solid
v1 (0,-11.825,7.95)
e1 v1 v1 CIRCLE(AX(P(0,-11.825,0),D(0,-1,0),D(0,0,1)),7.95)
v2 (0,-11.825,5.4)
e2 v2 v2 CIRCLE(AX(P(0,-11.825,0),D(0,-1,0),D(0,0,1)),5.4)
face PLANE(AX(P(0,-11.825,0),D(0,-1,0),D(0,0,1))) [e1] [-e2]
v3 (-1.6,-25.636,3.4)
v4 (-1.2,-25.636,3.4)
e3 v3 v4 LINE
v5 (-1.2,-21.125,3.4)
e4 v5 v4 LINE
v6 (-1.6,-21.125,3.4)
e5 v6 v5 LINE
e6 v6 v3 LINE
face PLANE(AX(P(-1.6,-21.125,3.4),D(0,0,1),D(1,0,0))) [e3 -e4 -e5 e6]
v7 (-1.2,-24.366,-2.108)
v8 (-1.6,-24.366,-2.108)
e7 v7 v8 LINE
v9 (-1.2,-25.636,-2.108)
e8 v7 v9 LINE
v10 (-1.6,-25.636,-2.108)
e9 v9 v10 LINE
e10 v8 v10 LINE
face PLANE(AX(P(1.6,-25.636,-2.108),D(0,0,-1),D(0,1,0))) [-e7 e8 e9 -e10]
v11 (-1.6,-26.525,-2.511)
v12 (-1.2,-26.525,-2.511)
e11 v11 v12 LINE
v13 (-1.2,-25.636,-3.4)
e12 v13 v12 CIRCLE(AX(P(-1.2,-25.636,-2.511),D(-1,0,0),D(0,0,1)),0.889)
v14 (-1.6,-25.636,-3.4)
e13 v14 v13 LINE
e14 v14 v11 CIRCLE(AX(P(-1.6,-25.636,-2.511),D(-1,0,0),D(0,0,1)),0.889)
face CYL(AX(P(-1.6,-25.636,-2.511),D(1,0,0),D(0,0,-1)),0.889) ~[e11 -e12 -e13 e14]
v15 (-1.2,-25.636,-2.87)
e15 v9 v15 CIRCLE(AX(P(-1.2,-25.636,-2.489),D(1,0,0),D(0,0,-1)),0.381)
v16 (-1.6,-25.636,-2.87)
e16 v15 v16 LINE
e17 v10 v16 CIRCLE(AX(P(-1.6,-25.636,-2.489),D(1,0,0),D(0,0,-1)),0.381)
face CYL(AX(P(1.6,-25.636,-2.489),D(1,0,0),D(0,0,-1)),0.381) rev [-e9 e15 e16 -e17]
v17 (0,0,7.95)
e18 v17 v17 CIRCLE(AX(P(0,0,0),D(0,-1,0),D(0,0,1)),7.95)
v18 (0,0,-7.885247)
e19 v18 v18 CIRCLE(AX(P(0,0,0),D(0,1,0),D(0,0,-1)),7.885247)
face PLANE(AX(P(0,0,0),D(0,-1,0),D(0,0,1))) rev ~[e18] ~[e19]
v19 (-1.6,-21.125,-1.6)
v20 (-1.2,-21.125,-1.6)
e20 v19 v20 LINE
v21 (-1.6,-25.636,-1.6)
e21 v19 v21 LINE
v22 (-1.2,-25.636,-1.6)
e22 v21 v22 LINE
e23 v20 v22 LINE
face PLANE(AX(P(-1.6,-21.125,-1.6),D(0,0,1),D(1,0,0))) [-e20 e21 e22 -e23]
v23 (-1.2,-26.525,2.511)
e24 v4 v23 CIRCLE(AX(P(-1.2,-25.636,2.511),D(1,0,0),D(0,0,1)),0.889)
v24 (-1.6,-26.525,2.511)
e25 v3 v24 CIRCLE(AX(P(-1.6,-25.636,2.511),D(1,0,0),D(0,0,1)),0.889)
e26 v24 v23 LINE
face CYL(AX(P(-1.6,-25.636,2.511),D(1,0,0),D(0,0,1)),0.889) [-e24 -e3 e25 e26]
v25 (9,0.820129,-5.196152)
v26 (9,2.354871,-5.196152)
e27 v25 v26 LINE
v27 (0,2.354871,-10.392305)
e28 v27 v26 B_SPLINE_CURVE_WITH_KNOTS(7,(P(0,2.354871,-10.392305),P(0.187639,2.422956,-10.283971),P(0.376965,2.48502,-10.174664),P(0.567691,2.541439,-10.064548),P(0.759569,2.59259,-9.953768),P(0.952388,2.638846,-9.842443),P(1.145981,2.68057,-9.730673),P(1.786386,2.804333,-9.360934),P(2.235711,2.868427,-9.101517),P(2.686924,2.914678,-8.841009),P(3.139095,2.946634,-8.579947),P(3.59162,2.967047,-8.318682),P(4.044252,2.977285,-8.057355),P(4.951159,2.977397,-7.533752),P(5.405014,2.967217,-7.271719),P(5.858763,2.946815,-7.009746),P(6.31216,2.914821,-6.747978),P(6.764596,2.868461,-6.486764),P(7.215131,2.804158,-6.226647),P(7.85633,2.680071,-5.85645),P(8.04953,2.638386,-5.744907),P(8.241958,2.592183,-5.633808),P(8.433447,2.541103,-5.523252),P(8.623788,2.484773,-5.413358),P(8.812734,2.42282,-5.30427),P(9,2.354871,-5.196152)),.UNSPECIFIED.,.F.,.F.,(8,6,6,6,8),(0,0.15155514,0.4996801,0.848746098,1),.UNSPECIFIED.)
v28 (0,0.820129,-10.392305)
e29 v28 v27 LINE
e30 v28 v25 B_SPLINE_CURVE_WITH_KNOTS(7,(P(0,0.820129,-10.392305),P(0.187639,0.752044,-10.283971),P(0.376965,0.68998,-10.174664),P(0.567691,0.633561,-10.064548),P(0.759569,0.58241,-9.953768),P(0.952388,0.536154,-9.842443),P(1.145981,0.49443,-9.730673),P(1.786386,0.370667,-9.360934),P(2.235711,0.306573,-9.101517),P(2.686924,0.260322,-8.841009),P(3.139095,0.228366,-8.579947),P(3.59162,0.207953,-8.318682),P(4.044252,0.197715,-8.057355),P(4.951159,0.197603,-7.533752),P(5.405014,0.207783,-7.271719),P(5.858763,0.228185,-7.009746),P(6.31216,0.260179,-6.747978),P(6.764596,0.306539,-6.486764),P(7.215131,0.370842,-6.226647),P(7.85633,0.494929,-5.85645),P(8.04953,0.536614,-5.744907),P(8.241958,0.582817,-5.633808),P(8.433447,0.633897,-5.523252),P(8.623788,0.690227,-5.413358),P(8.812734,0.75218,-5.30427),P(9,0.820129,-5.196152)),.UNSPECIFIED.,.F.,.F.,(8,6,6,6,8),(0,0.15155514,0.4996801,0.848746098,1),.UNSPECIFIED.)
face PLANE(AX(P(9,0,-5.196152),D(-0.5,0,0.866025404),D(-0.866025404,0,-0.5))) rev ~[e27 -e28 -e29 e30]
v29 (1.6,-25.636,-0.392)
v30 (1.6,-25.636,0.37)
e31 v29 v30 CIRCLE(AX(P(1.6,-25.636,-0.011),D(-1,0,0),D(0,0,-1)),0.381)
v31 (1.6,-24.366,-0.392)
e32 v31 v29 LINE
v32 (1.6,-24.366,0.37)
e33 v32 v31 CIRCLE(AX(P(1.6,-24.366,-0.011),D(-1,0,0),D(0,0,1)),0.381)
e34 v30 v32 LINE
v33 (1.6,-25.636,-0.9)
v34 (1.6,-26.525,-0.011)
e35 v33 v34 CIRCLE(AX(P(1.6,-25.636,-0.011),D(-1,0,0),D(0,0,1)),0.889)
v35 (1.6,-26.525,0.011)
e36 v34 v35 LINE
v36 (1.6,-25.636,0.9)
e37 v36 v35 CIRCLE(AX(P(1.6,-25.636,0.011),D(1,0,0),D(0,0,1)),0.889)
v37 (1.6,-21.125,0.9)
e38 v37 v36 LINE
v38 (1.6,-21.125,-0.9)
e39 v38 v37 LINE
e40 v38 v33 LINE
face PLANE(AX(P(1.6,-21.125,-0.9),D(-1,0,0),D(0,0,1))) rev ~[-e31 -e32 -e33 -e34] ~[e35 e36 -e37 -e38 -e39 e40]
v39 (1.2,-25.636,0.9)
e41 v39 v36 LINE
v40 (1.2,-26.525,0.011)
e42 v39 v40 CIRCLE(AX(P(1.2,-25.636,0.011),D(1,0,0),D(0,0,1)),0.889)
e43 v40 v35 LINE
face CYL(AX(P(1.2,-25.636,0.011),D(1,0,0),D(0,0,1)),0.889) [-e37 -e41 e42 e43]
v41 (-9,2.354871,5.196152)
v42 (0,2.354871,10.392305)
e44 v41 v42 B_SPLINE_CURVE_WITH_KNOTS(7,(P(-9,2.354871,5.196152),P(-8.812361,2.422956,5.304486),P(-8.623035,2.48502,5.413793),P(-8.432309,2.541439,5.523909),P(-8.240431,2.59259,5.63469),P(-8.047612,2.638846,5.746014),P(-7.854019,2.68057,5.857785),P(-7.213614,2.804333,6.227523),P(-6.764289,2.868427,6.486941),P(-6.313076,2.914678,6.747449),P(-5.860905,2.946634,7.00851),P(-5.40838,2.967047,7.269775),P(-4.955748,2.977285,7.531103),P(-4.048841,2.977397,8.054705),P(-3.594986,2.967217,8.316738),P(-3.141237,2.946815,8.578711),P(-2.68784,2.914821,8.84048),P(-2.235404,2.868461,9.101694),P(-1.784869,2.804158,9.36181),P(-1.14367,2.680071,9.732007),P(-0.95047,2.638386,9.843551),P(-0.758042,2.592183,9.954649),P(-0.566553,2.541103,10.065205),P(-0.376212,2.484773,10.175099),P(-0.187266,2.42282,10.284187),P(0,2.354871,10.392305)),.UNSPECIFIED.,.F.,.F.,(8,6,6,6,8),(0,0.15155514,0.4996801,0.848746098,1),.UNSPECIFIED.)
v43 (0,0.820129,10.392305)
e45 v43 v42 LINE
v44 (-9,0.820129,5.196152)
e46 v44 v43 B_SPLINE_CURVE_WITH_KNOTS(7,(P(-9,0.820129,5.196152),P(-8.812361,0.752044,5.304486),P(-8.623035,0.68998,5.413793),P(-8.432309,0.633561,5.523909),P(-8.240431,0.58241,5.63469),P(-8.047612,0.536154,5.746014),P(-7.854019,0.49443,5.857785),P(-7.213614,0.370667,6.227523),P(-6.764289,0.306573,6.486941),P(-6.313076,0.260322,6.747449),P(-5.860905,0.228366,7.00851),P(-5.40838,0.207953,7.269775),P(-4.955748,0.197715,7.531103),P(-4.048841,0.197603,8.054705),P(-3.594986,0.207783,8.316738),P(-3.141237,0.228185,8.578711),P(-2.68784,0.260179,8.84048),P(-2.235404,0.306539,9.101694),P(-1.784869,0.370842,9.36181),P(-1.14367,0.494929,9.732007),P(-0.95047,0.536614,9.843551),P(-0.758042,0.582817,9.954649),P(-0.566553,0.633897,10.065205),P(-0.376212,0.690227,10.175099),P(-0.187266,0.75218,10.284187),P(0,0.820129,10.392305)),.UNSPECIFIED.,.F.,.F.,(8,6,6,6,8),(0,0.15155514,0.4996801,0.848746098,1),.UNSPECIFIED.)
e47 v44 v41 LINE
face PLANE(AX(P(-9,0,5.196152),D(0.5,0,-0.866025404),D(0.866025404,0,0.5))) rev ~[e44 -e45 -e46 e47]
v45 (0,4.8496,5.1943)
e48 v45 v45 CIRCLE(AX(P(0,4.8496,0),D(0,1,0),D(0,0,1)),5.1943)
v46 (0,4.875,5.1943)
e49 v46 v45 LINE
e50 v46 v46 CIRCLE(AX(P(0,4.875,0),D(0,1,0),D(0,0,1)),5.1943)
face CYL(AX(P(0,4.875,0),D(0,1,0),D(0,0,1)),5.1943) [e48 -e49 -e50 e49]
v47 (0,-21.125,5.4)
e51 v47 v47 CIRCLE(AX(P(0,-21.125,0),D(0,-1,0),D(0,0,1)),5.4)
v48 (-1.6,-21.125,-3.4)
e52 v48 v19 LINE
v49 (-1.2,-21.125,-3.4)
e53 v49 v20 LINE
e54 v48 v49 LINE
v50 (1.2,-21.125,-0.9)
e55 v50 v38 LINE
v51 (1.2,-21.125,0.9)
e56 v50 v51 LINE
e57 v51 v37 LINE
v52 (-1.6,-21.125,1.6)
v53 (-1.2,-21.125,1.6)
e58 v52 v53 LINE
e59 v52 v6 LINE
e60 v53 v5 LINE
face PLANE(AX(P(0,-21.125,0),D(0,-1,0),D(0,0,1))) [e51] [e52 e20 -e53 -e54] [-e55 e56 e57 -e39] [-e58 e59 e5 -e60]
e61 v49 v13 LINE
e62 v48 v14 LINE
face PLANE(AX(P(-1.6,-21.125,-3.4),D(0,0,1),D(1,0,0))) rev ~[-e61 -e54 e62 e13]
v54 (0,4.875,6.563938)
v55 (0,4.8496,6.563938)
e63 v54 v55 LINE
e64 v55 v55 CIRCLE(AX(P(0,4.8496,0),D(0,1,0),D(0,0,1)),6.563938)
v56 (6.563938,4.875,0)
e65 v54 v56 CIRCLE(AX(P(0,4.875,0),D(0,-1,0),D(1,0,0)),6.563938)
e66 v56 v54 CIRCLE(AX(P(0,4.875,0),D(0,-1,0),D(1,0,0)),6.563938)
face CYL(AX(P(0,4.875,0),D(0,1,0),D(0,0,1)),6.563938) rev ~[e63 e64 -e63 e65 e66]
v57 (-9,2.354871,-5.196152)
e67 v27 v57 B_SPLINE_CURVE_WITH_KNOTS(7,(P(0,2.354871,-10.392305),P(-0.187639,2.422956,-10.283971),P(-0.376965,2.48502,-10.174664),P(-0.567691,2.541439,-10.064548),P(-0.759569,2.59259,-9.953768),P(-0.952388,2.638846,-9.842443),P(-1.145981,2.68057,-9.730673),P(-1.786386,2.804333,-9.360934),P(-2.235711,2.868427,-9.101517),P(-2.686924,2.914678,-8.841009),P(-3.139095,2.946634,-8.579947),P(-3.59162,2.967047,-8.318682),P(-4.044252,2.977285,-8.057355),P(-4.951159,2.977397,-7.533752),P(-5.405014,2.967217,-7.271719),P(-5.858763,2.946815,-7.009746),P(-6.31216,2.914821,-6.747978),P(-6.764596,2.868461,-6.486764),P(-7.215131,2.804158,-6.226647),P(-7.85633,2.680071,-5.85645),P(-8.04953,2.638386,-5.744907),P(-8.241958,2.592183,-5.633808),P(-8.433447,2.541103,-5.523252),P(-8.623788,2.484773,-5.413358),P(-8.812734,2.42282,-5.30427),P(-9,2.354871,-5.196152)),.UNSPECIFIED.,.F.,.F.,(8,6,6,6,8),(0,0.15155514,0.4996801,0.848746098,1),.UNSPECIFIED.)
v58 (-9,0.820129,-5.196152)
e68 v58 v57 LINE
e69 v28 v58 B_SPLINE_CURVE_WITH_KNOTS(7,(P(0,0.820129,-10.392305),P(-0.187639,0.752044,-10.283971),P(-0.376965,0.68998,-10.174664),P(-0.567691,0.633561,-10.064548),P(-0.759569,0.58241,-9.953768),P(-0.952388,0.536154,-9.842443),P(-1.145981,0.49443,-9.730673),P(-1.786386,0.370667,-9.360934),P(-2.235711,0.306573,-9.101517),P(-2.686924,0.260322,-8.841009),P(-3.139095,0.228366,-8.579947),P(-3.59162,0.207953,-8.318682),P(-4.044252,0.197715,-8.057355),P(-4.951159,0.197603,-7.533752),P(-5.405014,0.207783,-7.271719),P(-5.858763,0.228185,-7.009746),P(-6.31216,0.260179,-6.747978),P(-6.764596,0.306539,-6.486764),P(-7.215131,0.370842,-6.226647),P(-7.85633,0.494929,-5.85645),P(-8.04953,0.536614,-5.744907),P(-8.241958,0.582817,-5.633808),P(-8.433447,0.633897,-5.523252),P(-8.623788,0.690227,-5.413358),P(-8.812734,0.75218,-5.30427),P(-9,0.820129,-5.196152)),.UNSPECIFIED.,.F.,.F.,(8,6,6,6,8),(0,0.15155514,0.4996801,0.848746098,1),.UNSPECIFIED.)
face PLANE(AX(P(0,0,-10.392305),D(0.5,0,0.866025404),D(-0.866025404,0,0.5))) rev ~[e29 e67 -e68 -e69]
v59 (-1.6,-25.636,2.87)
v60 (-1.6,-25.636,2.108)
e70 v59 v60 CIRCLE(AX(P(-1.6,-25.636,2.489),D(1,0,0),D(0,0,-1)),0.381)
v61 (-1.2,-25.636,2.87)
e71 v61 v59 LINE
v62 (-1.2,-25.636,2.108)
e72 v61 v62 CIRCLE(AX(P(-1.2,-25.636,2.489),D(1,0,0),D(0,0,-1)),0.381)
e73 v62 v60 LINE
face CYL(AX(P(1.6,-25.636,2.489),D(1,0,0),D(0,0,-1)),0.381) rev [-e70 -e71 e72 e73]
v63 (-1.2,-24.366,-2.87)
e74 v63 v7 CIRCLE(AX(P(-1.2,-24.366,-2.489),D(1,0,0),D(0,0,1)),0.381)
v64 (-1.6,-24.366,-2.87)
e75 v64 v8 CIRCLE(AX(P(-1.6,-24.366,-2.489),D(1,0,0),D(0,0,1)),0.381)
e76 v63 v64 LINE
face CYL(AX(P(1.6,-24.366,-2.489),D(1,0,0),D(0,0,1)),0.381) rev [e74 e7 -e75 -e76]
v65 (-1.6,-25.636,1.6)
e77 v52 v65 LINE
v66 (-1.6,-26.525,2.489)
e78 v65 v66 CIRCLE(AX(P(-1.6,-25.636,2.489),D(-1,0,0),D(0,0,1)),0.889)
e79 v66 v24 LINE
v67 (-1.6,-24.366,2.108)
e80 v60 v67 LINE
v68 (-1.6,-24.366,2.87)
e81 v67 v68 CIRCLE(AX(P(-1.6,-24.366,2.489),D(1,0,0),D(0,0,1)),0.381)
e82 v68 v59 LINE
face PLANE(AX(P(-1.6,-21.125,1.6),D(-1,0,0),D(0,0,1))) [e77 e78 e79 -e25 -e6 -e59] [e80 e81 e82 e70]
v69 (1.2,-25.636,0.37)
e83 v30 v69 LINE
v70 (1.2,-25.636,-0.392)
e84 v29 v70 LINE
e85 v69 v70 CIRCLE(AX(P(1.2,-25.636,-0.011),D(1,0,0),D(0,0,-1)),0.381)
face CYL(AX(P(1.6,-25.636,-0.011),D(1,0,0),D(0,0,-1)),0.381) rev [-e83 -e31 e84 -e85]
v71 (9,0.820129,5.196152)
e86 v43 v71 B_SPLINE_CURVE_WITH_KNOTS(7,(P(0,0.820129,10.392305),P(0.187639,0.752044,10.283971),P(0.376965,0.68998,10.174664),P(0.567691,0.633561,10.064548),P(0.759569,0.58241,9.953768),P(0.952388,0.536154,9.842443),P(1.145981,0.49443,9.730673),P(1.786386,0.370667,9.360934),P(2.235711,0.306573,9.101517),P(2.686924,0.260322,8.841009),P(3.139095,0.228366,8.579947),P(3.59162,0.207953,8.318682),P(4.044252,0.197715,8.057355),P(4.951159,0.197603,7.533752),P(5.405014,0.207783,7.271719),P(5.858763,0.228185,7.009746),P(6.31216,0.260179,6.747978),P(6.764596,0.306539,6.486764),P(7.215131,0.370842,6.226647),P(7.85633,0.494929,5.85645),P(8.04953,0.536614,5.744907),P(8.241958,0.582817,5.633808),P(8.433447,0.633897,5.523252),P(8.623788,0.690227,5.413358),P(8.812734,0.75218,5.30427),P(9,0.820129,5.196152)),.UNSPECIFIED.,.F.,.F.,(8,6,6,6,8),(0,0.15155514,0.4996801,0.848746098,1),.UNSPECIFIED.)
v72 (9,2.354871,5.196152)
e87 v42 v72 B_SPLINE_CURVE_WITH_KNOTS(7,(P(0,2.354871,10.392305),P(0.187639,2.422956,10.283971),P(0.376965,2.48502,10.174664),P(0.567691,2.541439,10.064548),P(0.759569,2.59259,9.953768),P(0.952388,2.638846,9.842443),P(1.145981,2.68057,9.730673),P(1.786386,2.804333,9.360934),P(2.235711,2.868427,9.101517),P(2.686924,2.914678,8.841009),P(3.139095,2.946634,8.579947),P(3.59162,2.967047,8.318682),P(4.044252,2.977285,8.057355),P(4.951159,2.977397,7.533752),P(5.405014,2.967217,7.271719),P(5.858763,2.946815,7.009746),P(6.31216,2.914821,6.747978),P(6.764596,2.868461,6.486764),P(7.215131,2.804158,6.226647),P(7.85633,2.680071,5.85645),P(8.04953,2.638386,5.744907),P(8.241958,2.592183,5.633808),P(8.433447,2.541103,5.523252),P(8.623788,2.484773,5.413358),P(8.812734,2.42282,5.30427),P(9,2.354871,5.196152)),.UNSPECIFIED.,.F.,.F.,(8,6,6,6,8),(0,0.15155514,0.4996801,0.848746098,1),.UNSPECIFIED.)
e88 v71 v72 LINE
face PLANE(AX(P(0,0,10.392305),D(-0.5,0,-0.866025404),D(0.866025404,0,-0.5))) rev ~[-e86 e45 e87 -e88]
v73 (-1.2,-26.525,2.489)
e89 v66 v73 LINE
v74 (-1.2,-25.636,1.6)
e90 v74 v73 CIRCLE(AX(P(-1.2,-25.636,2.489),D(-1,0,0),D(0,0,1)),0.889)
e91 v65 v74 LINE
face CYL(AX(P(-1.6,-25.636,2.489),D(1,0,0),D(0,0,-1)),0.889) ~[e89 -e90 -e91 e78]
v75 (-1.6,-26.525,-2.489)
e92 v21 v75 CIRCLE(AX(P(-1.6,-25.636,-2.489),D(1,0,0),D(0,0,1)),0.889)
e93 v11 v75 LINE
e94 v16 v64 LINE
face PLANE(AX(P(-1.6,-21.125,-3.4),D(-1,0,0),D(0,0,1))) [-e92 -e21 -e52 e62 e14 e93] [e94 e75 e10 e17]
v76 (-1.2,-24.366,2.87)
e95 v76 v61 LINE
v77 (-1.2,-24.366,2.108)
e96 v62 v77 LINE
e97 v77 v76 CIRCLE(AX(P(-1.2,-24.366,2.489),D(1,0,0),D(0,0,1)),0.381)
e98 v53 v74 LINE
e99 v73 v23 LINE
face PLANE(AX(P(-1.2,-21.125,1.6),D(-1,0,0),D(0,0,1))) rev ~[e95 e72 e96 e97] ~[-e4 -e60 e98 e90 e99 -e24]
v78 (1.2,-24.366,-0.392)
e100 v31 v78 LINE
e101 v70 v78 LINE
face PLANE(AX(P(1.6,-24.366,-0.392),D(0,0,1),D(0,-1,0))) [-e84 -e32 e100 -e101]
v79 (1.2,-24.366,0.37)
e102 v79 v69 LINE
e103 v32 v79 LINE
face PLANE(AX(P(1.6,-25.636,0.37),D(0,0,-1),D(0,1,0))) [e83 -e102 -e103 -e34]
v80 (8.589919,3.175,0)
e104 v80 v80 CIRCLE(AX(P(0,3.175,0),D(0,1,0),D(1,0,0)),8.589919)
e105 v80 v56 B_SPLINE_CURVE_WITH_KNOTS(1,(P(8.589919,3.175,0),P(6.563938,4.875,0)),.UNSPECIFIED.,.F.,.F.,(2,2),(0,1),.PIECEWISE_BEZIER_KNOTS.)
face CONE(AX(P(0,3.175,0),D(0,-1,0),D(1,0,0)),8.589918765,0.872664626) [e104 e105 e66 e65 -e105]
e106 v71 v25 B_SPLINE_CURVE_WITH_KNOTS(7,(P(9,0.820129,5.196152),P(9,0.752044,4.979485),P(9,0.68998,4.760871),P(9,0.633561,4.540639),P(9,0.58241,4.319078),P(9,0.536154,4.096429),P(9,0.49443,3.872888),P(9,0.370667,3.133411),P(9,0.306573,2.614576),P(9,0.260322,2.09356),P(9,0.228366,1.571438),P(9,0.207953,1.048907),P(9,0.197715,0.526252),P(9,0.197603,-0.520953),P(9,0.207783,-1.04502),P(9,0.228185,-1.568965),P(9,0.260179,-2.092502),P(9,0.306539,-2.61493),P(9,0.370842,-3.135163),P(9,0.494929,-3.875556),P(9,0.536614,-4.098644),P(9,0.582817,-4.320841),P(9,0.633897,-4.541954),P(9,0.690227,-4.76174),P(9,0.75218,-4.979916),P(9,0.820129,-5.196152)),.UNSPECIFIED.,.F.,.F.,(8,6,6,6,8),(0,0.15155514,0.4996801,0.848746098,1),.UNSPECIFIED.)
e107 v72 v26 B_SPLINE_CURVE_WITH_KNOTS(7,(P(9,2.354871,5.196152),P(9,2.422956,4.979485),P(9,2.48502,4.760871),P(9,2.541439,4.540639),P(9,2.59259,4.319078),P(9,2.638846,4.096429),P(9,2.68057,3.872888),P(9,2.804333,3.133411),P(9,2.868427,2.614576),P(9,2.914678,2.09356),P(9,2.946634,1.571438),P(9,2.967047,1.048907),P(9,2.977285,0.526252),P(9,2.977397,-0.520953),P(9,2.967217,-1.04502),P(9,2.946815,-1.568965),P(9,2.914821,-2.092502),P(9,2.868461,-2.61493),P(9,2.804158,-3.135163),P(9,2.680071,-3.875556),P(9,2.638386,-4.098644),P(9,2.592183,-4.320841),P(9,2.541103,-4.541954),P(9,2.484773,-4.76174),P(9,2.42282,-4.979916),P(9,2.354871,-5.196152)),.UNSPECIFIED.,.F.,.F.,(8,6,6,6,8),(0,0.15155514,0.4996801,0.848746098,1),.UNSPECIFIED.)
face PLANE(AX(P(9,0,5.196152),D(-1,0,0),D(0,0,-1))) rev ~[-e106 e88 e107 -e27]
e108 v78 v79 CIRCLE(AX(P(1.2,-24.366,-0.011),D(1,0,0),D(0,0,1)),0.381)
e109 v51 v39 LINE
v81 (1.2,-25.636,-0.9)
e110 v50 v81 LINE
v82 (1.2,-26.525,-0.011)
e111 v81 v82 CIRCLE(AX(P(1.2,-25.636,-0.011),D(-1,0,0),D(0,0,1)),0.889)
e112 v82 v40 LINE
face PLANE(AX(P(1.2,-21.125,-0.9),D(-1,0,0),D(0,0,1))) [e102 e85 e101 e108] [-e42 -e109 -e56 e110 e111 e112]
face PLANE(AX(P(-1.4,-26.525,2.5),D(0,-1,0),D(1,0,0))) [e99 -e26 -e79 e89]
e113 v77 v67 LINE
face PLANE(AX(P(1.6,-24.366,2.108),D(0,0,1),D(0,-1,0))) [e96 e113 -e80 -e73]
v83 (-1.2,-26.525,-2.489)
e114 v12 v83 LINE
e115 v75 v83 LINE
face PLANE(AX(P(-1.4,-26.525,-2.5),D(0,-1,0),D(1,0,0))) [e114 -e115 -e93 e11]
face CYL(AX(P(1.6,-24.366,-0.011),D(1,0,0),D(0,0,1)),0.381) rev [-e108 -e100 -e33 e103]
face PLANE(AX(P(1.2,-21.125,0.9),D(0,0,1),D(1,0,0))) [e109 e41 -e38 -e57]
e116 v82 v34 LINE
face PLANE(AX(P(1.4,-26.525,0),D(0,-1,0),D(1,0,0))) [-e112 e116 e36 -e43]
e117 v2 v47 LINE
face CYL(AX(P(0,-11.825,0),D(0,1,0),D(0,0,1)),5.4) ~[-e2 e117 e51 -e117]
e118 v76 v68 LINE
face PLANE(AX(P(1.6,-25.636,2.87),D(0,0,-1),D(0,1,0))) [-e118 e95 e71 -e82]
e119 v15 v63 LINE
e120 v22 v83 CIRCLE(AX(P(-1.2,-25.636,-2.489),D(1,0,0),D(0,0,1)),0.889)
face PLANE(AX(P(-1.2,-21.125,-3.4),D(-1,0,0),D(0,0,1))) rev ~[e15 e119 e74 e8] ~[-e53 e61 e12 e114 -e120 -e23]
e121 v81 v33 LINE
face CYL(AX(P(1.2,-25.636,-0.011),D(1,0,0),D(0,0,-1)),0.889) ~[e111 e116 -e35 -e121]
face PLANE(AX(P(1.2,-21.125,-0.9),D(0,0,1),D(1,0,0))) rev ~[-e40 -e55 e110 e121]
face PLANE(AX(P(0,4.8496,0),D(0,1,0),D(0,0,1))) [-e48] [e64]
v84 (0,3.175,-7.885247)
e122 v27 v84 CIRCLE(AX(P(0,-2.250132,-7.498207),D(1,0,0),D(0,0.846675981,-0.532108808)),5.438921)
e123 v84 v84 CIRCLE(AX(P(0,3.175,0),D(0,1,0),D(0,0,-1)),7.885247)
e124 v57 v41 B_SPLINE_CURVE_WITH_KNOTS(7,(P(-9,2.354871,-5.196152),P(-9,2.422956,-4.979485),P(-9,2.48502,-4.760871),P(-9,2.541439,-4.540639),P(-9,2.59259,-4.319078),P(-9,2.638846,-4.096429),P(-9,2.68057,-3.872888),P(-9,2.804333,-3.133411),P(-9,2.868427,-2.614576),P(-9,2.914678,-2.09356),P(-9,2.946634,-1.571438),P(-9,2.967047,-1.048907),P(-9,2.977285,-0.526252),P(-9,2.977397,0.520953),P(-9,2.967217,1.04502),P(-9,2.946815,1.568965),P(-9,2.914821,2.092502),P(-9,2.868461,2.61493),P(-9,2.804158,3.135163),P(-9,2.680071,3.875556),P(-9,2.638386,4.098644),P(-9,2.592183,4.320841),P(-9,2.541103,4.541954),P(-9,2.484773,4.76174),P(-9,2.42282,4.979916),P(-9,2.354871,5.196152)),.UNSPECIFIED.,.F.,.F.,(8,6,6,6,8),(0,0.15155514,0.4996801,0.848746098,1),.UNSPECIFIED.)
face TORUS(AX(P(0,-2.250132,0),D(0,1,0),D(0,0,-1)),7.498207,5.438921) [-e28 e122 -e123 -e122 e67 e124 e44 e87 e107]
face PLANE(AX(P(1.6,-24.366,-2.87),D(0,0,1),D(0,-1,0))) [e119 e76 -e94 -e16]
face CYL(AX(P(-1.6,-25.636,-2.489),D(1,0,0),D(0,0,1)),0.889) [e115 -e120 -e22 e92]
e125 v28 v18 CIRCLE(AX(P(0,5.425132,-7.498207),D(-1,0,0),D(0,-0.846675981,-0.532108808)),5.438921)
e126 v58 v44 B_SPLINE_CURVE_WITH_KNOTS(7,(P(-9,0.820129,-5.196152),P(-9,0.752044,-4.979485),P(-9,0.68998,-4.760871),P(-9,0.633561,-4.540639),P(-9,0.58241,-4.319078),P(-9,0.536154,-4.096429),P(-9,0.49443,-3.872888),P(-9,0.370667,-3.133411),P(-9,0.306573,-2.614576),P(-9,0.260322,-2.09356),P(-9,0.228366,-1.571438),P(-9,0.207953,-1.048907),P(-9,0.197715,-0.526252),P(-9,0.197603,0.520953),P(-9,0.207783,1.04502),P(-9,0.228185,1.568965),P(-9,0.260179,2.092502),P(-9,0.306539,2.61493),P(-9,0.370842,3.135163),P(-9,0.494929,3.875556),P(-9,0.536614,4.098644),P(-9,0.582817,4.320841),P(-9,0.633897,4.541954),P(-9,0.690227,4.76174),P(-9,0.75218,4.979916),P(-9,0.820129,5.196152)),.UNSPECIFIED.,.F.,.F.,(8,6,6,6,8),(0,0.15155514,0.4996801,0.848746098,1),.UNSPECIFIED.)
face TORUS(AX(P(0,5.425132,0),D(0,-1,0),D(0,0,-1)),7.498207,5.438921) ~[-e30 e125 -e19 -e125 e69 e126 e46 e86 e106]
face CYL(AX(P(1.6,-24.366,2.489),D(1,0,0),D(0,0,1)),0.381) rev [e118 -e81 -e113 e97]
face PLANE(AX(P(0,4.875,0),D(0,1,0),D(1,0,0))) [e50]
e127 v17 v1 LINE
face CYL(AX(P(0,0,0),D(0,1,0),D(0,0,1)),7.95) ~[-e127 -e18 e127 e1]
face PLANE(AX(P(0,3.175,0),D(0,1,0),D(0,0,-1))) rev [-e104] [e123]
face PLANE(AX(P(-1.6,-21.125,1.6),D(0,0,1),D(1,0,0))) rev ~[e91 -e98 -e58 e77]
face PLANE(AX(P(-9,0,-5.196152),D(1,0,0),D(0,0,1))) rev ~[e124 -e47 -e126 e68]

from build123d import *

# Parameters (mm, degrees)
BOSS_EXTRUDE1_DEPTH = 3.175
SKETCH2_R           = 7.95
BOSS_EXTRUDE2_DEPTH = 11.825
SKETCH3_R           = 5.4
BOSS_EXTRUDE3_DEPTH = 9.3
SKETCH4_W           = 0.4
SKETCH4_H           = 1.8
BOSS_EXTRUDE4_DEPTH = 5.4
FILLET1_R           = 0.889
CUT_EXTRUDE1_DEPTH  = 31.396309398
SKETCH6_R           = 8.589918765
BOSS_EXTRUDE5_DEPTH = 1.7
BOSS_EXTRUDE5_TAPER = 50
SKETCH8_R           = 6.563937658
SKETCH8_R_2         = 5.1943
CUT_EXTRUDE2_DEPTH  = 0.0254


with BuildPart() as part:
    # Sketch1 → Boss-Extrude1 (new body)
    with BuildSketch(Plane(origin=(0, 0, 0), x_dir=(1, 0, 0), z_dir=(0, 1, 0))):
        Polygon((9, 5.196152423), (0, 10.392304845), (-9, 5.196152423), (-9, -5.196152423), (0, -10.392304845), (9, -5.196152423), align=None)
    extrude(amount=BOSS_EXTRUDE1_DEPTH)

    # Sketch2 → Boss-Extrude2 (add)
    with BuildSketch(Plane.XZ):
        with Locations(Location((0, 0, 0), (0, 0, 90))):
            Circle(SKETCH2_R)
    extrude(amount=BOSS_EXTRUDE2_DEPTH)

    # Sketch3 → Boss-Extrude3 (add)
    with BuildSketch(Plane.XZ.offset(11.825)):
        with Locations(Location((0, 0, 0), (0, 0, 90))):
            Circle(SKETCH3_R)
    extrude(amount=BOSS_EXTRUDE3_DEPTH)

    # Sketch4 → Boss-Extrude4 (add)
    with BuildSketch(Plane.XZ.offset(21.125)):
        with Locations((-1.4, 2.5)):
            Rectangle(SKETCH4_W, SKETCH4_H)
        with Locations((-1.4, -2.5)):
            Rectangle(SKETCH4_W, SKETCH4_H)
        with Locations((1.4, 0)):
            Rectangle(SKETCH4_W, SKETCH4_H)
    extrude(amount=BOSS_EXTRUDE4_DEPTH)

    # Fillet1
    fillet1_edges = [part.edges().sort_by_distance(p)[0] for p in [
        (-1.4, -26.525, 1.6),
        (-1.4, -26.525, 3.4),
        (-1.4, -26.525, -3.4),
        (-1.4, -26.525, -1.6),
        (1.4, -26.525, -0.9),
        (1.4, -26.525, 0.9),
    ]]
    fillet(fillet1_edges, radius=FILLET1_R)

    # Sketch5 → Cut-Extrude1 (cut, through all)
    with BuildSketch(Plane(origin=(1.6, 0, 0), x_dir=(0, 0, -1), z_dir=(1, 0, 0))):
        with BuildLine():
            Line((-0.37, -25.636), (-0.37, -24.366))
            ThreePointArc((-0.37, -24.366), (0.011, -23.985), (0.392, -24.366))
            Line((0.392, -24.366), (0.392, -25.636))
            ThreePointArc((0.392, -25.636), (0.011, -26.017), (-0.37, -25.636))
        make_face()
        with BuildLine():
            Line((-2.87, -25.636), (-2.87, -24.366))
            ThreePointArc((-2.87, -24.366), (-2.489, -23.985), (-2.108, -24.366))
            Line((-2.108, -24.366), (-2.108, -25.636))
            ThreePointArc((-2.108, -25.636), (-2.489, -26.017), (-2.87, -25.636))
        make_face()
        with BuildLine():
            Line((2.108, -25.636), (2.108, -24.366))
            ThreePointArc((2.108, -24.366), (2.489, -23.985), (2.87, -24.366))
            Line((2.87, -24.366), (2.87, -25.636))
            ThreePointArc((2.87, -25.636), (2.489, -26.017), (2.108, -25.636))
        make_face()
    extrude(amount=-CUT_EXTRUDE1_DEPTH, mode=Mode.SUBTRACT)

    # Sketch6 → Boss-Extrude5 (add)
    with BuildSketch(Plane(origin=(0, 3.175, 0), x_dir=(1, 0, 0), z_dir=(0, 1, 0))):
        Circle(SKETCH6_R)
    extrude(amount=BOSS_EXTRUDE5_DEPTH, taper=BOSS_EXTRUDE5_TAPER)

    # Sketch7 → Cut-Revolve1 (revolve, cut)
    with BuildSketch(Plane(origin=(0, 0, 0), x_dir=(0, 0, -1), z_dir=(1, 0, 0))):
        with BuildLine():
            Line((7.885247447, 3.175), (10.392304845, 3.175))
            Line((10.392304845, 3.175), (10.392304845, 2.354871392))
            ThreePointArc((10.392304845, 2.354871392), (9.18924806, 2.919223674), (7.885247447, 3.175))
        make_face()
    cut_revolve1 = revolve(axis=Axis((0, 0, 0), (0, 1, 0)), mode=Mode.SUBTRACT)

    # Mirror1: Cut-Revolve1 across plane
    add(cut_revolve1.mirror(Plane(origin=(0, 1.5875, 0), x_dir=(0, 0, 1), z_dir=(0, -1, 0))), mode=Mode.SUBTRACT)

    # Sketch8 → Cut-Extrude2 (cut)
    with BuildSketch(Plane(origin=(0, 4.875, 0), x_dir=(1, 0, 0), z_dir=(0, 1, 0))):
        with Locations(Location((0, 0, 0), (0, 0, 270))):
            Circle(SKETCH8_R)
        with Locations(Location((0, 0, 0), (0, 0, 270))):
            Circle(SKETCH8_R_2, mode=Mode.SUBTRACT)
    extrude(amount=-CUT_EXTRUDE2_DEPTH, mode=Mode.SUBTRACT)


solid = part.part
